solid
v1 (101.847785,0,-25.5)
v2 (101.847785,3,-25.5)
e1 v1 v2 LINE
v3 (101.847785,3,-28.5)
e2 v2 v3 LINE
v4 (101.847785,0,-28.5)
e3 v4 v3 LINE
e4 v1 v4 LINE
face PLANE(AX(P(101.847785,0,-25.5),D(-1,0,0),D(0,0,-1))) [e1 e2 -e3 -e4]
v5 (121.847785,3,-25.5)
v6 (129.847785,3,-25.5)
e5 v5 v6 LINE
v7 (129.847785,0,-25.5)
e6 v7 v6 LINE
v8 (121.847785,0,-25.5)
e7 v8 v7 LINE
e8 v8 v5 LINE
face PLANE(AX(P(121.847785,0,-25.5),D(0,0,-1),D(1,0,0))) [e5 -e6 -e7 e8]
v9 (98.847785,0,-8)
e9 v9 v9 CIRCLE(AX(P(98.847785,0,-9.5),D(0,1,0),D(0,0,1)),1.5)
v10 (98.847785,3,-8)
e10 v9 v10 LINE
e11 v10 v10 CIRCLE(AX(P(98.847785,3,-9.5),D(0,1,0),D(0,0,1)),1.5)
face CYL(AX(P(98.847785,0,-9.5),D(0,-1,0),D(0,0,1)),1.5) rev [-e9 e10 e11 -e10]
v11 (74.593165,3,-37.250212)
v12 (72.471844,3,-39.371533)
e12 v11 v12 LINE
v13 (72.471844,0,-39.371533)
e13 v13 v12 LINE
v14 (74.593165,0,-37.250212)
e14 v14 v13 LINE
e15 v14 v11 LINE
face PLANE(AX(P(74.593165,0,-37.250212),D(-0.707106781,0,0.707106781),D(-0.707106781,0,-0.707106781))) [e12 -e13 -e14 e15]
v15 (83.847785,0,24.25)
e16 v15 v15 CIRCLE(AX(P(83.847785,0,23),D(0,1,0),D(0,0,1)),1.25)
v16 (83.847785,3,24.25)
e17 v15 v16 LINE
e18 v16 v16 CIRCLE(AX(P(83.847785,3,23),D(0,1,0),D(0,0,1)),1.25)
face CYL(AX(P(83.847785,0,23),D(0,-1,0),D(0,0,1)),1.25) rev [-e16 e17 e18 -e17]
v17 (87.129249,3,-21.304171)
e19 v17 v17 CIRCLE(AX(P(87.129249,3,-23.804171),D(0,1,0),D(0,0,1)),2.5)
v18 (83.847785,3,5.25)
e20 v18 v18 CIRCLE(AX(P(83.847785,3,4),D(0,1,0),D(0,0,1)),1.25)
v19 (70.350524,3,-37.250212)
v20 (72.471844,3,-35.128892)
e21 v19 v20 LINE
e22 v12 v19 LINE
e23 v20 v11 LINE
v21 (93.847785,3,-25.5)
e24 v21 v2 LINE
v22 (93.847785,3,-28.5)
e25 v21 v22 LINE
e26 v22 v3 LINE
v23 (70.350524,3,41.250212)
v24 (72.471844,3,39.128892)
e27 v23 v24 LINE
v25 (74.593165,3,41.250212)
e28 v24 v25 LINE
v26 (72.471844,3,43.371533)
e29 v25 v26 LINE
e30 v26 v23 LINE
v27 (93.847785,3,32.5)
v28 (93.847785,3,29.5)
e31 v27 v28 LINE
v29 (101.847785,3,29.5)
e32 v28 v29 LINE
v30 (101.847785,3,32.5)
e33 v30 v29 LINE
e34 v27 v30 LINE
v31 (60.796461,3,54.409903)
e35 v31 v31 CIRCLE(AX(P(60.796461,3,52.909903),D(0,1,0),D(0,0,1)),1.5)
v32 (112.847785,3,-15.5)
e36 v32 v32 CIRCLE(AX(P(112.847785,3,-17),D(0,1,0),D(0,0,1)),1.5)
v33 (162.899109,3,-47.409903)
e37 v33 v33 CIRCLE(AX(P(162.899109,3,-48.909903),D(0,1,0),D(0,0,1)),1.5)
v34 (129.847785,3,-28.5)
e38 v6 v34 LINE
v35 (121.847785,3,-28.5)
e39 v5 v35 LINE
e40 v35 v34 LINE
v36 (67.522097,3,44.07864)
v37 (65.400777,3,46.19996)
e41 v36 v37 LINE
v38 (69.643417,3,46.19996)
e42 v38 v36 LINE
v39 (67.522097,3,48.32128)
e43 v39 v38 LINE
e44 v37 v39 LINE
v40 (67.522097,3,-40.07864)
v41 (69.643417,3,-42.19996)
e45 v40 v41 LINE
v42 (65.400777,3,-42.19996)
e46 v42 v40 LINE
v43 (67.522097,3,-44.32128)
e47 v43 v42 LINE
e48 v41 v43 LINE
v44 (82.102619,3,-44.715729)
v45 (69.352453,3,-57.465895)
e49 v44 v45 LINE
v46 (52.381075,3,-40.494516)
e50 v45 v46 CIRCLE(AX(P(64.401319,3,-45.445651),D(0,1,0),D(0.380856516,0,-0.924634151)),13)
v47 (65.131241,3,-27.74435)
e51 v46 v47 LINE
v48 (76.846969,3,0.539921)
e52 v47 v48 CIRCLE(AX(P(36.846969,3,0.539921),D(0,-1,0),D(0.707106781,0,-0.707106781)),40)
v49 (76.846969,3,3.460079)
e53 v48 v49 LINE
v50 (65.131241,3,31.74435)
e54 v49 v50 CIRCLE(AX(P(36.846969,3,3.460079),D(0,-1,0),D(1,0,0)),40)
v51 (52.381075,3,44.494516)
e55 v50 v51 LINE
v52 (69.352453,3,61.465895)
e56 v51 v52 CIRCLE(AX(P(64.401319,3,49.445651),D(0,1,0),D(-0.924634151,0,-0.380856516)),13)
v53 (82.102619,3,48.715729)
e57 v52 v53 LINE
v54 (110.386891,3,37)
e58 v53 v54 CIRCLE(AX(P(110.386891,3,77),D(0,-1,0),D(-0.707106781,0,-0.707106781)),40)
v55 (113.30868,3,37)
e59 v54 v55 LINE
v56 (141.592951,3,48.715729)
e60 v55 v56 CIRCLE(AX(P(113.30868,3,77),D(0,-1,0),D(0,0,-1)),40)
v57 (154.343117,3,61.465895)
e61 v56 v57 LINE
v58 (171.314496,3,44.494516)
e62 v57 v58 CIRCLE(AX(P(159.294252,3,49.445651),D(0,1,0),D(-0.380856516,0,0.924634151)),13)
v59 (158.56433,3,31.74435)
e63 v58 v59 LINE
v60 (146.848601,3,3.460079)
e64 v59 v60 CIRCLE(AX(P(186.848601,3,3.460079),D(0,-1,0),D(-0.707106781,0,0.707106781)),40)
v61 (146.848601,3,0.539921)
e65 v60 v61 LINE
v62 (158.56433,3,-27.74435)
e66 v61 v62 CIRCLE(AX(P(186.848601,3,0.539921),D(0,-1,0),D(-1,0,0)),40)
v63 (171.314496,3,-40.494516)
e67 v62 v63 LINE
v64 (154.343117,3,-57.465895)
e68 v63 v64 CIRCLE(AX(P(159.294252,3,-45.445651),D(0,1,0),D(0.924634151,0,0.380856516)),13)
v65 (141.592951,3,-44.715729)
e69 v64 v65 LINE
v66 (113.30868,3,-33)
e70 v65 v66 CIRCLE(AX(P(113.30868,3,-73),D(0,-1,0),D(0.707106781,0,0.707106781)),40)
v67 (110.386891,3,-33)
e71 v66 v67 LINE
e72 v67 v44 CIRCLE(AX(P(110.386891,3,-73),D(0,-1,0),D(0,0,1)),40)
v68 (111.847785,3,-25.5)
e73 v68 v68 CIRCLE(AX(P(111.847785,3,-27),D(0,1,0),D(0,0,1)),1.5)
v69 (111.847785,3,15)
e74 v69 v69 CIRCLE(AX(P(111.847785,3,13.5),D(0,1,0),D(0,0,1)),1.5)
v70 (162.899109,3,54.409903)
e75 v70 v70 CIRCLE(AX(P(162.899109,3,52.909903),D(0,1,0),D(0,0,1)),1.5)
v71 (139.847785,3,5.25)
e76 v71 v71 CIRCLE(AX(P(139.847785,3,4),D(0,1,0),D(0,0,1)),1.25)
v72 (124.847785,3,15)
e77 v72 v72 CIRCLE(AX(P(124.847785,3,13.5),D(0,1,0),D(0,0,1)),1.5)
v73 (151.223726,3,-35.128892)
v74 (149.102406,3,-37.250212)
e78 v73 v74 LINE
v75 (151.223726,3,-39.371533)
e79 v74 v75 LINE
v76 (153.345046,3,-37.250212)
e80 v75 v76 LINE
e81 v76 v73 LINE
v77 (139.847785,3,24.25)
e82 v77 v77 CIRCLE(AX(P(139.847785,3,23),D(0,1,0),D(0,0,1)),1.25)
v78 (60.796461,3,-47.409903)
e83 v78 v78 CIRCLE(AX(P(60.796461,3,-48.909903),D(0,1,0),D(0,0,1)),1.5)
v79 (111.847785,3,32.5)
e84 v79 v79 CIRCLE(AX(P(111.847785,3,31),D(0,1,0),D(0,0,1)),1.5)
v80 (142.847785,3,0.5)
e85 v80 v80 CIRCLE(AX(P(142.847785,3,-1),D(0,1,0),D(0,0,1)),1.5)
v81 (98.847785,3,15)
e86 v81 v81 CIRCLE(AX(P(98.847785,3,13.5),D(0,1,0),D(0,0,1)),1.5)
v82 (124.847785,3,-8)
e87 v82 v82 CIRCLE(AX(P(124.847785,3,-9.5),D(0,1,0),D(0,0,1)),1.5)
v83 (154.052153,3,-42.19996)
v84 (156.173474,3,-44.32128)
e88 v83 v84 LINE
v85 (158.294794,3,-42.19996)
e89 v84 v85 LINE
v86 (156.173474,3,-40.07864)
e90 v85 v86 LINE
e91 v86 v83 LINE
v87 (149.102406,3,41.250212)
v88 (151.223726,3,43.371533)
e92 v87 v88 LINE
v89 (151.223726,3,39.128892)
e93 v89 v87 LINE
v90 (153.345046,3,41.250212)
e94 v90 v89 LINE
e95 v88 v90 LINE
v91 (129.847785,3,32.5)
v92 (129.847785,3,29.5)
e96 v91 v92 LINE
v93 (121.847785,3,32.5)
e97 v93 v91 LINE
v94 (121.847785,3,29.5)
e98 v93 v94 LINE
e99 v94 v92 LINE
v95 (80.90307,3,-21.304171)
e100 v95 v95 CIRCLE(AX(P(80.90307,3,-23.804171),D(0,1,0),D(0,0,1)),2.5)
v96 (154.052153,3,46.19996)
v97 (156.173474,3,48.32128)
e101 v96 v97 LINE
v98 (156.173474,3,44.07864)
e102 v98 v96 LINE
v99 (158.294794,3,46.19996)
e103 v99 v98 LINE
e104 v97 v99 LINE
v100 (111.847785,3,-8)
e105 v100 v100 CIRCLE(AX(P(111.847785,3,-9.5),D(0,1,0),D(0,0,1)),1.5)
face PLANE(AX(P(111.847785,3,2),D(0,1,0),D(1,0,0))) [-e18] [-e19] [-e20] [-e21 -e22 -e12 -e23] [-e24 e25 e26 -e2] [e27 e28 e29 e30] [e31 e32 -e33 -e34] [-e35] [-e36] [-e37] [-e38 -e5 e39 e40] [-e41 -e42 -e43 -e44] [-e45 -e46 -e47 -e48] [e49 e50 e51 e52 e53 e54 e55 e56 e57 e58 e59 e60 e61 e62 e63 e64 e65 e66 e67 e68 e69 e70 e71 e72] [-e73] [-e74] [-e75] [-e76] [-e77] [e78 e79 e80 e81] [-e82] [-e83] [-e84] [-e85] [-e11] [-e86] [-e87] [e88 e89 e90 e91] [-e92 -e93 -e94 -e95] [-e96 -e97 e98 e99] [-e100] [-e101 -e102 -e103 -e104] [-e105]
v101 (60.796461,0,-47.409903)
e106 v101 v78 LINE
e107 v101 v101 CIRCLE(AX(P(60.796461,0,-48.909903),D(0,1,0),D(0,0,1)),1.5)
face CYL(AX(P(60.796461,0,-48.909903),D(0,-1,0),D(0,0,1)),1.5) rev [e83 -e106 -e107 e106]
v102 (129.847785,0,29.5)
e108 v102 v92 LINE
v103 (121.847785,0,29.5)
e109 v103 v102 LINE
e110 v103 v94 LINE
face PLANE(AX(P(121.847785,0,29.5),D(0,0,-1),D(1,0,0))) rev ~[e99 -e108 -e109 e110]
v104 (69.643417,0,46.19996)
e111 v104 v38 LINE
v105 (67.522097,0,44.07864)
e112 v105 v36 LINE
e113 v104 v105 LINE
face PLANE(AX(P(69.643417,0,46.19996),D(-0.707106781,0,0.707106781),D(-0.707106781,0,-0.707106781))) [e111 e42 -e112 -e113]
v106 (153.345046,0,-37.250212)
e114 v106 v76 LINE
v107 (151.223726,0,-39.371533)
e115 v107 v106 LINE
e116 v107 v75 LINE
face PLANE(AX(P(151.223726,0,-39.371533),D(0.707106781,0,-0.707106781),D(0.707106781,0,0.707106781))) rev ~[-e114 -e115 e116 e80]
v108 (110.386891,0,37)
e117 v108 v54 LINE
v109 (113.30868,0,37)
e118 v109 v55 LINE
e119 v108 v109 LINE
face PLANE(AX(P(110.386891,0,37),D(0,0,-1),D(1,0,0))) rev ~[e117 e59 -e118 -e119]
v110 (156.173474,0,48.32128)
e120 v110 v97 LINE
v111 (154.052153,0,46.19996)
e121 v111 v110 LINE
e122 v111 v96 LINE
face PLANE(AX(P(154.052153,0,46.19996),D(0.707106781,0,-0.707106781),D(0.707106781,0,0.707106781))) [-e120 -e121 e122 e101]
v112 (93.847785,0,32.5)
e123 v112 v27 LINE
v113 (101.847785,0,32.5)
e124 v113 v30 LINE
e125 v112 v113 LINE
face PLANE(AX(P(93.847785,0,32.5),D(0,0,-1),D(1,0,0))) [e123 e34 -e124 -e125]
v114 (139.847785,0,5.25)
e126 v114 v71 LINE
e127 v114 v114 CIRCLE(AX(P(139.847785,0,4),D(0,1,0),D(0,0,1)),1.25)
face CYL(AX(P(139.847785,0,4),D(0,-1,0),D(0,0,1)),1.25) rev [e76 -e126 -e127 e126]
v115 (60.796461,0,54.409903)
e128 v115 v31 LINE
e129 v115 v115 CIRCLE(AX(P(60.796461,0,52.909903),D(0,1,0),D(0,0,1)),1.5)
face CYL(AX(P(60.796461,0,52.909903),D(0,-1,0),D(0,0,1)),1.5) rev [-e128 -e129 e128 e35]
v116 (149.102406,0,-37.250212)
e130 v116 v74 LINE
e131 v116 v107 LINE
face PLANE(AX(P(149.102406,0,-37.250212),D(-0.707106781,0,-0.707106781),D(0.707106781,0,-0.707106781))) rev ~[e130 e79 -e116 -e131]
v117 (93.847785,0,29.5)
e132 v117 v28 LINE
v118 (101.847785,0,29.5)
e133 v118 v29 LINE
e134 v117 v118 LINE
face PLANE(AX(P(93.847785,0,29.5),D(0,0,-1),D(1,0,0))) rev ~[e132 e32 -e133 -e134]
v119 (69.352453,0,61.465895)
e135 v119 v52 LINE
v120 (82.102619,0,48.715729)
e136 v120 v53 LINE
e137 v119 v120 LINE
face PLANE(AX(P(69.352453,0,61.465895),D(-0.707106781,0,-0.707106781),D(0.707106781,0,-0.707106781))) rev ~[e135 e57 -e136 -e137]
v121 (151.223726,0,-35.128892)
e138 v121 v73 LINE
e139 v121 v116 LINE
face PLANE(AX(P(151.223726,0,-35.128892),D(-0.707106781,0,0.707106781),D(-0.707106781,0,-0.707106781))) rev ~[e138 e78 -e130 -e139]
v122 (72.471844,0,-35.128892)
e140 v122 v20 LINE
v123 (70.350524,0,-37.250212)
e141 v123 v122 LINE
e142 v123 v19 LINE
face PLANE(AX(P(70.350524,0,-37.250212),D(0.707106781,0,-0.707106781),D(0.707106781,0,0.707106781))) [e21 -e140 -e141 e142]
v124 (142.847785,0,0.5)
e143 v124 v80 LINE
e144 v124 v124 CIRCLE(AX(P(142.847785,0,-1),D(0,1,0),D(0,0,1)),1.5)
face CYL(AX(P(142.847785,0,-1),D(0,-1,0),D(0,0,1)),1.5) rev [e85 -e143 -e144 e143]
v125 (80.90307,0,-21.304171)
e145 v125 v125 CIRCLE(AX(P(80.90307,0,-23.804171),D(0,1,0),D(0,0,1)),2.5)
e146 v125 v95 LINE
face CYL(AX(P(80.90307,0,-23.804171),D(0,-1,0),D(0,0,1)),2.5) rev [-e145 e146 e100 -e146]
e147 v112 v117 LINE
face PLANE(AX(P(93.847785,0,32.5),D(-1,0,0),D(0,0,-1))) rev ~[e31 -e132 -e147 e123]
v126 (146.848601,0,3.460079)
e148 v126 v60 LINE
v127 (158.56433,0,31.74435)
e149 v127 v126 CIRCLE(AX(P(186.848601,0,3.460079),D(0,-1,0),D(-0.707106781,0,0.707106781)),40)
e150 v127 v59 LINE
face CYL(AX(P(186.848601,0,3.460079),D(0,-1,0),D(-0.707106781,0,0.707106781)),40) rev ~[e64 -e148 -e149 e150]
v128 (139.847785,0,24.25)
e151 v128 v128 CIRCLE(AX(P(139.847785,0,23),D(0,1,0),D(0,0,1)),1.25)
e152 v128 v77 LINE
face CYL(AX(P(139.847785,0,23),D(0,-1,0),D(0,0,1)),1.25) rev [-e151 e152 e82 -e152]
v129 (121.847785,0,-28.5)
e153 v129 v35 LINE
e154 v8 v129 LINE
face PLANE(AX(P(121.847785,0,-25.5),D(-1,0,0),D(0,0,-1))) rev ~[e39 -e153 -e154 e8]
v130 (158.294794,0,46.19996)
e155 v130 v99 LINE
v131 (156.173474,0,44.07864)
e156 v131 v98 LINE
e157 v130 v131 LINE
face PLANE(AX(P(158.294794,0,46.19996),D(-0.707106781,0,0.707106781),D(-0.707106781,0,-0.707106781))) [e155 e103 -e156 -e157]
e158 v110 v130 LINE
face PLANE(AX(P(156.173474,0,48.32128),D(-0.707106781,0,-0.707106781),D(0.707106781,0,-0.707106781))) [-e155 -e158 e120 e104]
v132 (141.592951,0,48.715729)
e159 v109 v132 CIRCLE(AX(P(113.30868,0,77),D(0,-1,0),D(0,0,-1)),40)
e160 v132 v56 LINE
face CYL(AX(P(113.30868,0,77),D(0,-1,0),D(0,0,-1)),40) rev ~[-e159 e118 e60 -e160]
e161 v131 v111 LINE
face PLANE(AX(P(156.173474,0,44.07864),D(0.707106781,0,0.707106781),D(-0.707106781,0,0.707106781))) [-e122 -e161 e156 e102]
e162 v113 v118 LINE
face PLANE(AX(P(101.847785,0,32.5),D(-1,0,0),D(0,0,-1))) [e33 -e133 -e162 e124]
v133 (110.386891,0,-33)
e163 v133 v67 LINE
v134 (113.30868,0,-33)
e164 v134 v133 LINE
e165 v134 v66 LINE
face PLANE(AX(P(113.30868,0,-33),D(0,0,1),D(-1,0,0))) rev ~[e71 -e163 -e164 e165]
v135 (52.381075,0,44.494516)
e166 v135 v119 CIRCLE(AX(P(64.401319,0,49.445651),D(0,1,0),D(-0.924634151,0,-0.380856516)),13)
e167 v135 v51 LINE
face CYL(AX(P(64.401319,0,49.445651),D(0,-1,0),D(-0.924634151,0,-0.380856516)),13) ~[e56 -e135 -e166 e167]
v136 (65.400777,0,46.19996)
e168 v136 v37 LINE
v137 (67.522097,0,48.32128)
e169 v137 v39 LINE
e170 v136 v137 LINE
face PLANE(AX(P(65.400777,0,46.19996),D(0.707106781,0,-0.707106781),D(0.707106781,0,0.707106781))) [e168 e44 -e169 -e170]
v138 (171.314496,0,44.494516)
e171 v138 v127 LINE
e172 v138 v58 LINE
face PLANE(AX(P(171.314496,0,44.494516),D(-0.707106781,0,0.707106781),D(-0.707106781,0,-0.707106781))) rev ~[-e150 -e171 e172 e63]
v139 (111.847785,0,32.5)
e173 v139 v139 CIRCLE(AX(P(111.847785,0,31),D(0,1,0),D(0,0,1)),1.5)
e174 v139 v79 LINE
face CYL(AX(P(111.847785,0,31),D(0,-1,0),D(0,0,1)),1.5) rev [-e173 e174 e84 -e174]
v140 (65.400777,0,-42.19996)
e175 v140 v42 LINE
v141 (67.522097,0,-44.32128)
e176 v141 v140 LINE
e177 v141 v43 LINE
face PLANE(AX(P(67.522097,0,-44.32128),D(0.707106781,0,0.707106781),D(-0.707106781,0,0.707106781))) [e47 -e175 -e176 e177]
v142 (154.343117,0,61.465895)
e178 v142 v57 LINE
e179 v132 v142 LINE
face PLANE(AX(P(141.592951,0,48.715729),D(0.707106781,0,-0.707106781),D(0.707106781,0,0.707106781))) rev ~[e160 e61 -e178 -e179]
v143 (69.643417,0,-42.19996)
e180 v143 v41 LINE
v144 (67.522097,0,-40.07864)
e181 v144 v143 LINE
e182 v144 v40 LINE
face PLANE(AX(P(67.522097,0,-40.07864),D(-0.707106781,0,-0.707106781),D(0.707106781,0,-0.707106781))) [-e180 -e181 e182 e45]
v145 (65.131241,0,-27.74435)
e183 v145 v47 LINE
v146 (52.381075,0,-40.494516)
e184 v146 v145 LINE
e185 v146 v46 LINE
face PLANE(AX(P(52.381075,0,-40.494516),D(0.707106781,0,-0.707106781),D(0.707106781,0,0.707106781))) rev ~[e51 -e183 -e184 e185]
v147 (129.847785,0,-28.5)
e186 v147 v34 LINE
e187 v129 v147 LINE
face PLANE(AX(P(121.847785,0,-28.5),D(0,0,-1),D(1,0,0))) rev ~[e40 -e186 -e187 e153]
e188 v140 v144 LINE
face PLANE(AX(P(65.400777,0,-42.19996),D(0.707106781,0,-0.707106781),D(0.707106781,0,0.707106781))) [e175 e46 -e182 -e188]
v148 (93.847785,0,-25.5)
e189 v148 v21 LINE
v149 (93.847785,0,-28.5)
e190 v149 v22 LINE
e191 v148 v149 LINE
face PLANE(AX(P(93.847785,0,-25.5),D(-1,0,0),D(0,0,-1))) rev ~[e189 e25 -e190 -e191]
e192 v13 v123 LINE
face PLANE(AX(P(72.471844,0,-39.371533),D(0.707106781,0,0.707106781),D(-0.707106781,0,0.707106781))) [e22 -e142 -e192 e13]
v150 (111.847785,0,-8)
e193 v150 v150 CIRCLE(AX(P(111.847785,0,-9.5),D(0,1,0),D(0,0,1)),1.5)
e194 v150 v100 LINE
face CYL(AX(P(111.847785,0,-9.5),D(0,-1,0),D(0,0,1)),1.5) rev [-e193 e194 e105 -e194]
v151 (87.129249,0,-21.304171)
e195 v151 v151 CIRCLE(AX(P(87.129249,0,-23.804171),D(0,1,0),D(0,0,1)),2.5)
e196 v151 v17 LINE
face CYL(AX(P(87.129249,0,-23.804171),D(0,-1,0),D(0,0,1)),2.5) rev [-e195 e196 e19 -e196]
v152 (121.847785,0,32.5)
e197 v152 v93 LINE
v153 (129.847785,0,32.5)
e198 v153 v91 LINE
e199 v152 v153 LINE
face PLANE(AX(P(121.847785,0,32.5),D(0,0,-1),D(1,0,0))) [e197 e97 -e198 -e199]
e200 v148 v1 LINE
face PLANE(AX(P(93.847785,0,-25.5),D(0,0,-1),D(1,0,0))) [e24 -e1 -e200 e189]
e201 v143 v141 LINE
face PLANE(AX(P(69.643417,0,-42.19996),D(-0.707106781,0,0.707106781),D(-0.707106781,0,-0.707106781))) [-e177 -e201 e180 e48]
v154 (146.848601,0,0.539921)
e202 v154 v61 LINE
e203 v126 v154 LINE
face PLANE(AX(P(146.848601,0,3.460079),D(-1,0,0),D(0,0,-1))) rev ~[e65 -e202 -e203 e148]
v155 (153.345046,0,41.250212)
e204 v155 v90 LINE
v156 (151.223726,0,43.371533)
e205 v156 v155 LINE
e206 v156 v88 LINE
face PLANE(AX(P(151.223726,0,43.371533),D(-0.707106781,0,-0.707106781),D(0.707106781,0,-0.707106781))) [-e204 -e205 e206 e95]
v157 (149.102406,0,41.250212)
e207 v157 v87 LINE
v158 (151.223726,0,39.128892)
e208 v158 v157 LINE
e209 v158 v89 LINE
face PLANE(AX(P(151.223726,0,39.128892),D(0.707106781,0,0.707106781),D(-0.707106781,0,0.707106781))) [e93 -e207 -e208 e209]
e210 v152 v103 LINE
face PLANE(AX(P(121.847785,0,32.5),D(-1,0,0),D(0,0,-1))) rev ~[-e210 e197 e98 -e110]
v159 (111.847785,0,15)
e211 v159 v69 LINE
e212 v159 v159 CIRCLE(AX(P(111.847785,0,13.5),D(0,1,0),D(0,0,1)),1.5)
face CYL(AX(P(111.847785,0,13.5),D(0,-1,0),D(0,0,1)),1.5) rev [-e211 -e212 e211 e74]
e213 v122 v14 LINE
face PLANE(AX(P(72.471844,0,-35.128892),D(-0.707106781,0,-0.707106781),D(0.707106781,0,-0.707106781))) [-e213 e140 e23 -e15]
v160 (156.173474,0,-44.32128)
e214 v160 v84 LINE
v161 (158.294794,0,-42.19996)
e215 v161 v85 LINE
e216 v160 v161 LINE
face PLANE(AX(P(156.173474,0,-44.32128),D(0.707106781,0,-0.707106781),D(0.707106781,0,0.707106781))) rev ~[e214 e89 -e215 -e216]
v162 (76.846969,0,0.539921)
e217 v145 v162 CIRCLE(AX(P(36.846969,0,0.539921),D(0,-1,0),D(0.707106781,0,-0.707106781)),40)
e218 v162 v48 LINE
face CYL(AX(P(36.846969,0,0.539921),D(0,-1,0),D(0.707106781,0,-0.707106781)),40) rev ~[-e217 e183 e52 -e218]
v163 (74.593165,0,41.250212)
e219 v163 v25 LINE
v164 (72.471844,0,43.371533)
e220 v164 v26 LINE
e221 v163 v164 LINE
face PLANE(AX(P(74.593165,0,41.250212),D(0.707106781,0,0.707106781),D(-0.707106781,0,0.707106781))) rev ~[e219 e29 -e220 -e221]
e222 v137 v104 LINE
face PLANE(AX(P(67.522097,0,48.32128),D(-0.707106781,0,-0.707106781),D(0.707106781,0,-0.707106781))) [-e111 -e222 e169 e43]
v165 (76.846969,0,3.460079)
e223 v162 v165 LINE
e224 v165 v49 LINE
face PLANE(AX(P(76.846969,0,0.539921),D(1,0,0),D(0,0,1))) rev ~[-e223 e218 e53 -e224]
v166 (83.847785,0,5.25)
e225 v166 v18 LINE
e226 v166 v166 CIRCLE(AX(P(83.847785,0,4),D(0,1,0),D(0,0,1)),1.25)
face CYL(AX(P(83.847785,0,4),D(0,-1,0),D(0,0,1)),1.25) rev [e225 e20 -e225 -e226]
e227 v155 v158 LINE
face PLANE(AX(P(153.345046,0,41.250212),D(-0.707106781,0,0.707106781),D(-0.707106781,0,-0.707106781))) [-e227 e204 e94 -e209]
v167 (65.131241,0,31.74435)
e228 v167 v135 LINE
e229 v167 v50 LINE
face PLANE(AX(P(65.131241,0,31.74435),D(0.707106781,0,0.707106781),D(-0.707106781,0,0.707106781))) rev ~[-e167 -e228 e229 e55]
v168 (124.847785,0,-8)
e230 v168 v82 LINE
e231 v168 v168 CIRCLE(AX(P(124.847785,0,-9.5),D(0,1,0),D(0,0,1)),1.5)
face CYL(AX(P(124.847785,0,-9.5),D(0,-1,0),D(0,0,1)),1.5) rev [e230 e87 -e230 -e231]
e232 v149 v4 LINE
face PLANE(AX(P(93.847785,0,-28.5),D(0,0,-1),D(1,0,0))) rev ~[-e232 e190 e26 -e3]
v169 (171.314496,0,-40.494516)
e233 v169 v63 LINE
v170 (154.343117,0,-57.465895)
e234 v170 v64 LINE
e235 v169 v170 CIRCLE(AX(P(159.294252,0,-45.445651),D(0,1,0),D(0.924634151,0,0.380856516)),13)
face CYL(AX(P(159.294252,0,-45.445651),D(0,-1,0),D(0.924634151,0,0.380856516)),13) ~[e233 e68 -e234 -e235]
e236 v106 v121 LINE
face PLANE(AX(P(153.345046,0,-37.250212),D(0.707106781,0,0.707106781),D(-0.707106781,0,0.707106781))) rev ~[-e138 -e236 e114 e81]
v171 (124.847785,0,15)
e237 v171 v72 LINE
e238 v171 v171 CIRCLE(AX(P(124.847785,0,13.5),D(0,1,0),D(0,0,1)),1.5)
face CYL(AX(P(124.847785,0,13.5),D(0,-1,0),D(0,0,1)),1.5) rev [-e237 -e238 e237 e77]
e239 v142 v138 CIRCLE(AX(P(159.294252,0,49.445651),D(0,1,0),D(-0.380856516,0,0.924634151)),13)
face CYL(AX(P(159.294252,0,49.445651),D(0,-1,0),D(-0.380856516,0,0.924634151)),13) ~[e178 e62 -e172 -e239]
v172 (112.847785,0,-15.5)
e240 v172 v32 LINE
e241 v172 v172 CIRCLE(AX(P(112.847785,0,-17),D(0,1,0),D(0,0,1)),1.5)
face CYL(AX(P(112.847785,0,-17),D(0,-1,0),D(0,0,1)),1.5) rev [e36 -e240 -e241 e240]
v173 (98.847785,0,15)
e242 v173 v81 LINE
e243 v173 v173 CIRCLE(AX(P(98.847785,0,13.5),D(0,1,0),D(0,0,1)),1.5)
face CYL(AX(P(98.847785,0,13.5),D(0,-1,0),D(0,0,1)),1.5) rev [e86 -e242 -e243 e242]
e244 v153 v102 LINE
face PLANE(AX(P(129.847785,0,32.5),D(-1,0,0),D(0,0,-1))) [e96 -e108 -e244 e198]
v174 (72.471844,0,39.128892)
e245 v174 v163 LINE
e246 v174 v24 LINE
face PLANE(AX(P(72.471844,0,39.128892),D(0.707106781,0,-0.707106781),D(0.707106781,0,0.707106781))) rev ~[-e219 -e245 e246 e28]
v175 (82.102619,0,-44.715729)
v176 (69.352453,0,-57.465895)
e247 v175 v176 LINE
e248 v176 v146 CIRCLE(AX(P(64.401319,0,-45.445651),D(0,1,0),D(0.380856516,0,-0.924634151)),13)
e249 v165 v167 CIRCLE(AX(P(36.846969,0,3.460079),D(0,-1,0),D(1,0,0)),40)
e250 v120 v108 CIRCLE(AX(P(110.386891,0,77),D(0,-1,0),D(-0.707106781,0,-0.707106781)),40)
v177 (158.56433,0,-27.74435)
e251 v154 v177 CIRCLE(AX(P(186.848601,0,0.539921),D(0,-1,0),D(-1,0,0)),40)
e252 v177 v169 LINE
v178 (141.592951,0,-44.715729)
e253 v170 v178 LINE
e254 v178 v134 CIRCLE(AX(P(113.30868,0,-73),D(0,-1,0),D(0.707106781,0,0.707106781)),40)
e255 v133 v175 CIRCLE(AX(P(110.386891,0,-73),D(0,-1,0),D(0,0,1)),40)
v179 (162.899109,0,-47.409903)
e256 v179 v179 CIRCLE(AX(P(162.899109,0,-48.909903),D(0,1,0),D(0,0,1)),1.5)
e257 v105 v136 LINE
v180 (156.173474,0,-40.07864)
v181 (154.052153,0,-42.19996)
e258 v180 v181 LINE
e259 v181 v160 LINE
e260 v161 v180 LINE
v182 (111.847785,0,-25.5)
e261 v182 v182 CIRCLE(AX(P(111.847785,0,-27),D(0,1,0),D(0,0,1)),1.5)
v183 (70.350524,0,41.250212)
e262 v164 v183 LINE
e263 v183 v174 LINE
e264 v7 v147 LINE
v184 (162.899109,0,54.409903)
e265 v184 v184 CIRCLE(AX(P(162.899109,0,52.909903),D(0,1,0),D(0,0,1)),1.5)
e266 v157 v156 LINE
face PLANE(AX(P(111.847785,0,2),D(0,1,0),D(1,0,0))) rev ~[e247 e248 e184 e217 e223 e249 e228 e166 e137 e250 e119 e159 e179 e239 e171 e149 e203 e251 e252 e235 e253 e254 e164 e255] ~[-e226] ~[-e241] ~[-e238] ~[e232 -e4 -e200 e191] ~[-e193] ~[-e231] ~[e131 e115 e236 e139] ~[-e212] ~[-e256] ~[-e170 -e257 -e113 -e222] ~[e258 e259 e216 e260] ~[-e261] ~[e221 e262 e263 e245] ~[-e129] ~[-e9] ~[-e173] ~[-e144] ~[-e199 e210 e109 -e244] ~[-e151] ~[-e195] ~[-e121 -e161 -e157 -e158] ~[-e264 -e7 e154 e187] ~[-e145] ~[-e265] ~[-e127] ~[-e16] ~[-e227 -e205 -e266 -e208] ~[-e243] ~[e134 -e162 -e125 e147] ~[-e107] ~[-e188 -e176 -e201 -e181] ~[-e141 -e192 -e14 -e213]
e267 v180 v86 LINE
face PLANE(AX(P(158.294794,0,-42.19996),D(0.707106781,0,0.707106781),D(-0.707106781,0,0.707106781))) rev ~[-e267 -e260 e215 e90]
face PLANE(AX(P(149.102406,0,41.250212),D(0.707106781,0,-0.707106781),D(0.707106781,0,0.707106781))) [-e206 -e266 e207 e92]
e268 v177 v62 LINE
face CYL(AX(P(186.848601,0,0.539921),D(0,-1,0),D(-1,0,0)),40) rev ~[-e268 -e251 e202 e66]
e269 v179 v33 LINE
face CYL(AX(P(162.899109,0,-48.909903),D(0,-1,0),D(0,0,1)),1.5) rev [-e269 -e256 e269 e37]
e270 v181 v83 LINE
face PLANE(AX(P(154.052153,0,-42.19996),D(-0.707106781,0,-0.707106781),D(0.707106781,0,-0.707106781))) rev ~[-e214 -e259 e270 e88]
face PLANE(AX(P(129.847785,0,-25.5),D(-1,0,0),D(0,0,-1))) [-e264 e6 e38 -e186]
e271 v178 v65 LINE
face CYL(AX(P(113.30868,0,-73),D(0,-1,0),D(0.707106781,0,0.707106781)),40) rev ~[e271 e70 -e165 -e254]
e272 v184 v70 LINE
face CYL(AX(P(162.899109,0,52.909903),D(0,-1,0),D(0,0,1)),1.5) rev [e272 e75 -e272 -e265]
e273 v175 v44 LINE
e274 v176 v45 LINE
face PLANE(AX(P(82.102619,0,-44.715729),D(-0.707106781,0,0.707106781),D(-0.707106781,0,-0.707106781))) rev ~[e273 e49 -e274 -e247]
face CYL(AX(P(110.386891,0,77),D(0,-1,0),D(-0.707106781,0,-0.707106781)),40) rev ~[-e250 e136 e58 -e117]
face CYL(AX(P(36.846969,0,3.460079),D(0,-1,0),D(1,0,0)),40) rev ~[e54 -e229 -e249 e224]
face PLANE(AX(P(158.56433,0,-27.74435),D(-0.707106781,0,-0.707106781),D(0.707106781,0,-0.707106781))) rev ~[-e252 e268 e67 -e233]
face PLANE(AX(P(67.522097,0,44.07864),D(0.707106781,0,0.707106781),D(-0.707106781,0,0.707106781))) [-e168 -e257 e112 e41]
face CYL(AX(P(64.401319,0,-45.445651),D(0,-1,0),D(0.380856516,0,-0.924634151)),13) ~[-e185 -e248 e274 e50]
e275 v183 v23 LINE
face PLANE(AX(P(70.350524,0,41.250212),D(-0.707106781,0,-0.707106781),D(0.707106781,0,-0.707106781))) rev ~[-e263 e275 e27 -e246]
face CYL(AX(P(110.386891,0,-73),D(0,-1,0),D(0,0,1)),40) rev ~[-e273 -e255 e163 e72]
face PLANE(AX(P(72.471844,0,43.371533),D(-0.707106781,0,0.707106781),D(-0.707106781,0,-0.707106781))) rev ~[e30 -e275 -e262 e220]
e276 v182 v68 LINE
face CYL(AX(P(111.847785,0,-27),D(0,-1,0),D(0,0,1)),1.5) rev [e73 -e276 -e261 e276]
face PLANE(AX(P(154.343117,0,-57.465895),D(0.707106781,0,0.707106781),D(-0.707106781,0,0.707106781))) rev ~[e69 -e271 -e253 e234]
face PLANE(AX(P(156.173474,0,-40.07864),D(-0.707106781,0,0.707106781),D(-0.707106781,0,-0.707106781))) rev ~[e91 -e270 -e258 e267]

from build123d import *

# Parameters (mm, degrees)
ESBO_O1_R                = 1.5
ESBO_O1_R_2              = 1.25
ESBO_O1_R_3              = 2.5
ESBO_O1_W                = 8
ESBO_O1_H                = 3
RESSALTO_EXTRUS_O1_DEPTH = 3


with BuildPart() as part:
    # Esboço1 → Ressalto-extrusão1 (new body)
    with BuildSketch(Plane(origin=(0, 0, 0), x_dir=(1, 0, 0), z_dir=(0, 1, 0))):
        with BuildLine():
            Line((52.381074728, 40.494515949), (65.131240604, 27.744350072))
            ThreePointArc((65.131240604, 27.744350072), (73.802150657, 14.76741612), (76.846969357, -0.539921175))
            Line((76.846969357, -0.539921175), (76.846969357, -3.460078825))
            ThreePointArc((76.846969357, -3.460078825), (73.802150657, -18.76741612), (65.131240604, -31.744350072))
            Line((65.131240604, -31.744350072), (52.381074728, -44.494515949))
            ThreePointArc((52.381074728, -44.494515949), (55.208930541, -58.638038816), (69.352453408, -61.465894629))
            Line((69.352453408, -61.465894629), (82.102619284, -48.715728753))
            ThreePointArc((82.102619284, -48.715728753), (95.079553237, -40.0448187), (110.386890532, -37))
            Line((110.386890532, -37), (113.308680045, -37))
            ThreePointArc((113.308680045, -37), (128.61601734, -40.0448187), (141.592951292, -48.715728753))
            Line((141.592951292, -48.715728753), (154.343117169, -61.465894629))
            ThreePointArc((154.343117169, -61.465894629), (168.486640036, -58.638038816), (171.314495849, -44.494515949))
            Line((171.314495849, -44.494515949), (158.564329973, -31.744350072))
            ThreePointArc((158.564329973, -31.744350072), (149.89341992, -18.76741612), (146.84860122, -3.460078825))
            Line((146.84860122, -3.460078825), (146.84860122, -0.539921175))
            ThreePointArc((146.84860122, -0.539921175), (149.89341992, 14.76741612), (158.564329973, 27.744350072))
            Line((158.564329973, 27.744350072), (171.314495849, 40.494515949))
            ThreePointArc((171.314495849, 40.494515949), (168.486640036, 54.638038816), (154.343117169, 57.465894629))
            Line((154.343117169, 57.465894629), (141.592951292, 44.715728753))
            ThreePointArc((141.592951292, 44.715728753), (128.61601734, 36.0448187), (113.308680045, 33))
            Line((113.308680045, 33), (110.386890532, 33))
            ThreePointArc((110.386890532, 33), (95.079553237, 36.0448187), (82.102619284, 44.715728753))
            Line((82.102619284, 44.715728753), (69.352453408, 57.465894629))
            ThreePointArc((69.352453408, 57.465894629), (55.208930541, 54.638038816), (52.381074728, 40.494515949))
        make_face()
        with Locations(Location((111.847785288, 27, 0), (0, 0, 270))):
            Circle(ESBO_O1_R, mode=Mode.SUBTRACT)
        with Locations(Location((111.847785288, -31, 0), (0, 0, 270))):
            Circle(ESBO_O1_R, mode=Mode.SUBTRACT)
        with Locations(Location((60.796461355, 48.909902577, 0), (0, 0, 270))):
            Circle(ESBO_O1_R, mode=Mode.SUBTRACT)
        with Locations(Location((111.847785288, -13.5, 0), (0, 0, 270))):
            Circle(ESBO_O1_R, mode=Mode.SUBTRACT)
        with Locations(Location((124.847785288, -13.5, 0), (0, 0, 270))):
            Circle(ESBO_O1_R, mode=Mode.SUBTRACT)
        with Locations(Location((98.847785288, -13.5, 0), (0, 0, 270))):
            Circle(ESBO_O1_R, mode=Mode.SUBTRACT)
        with Locations(Location((98.847785288, 9.5, 0), (0, 0, 270))):
            Circle(ESBO_O1_R, mode=Mode.SUBTRACT)
        with Locations(Location((124.847785288, 9.5, 0), (0, 0, 270))):
            Circle(ESBO_O1_R, mode=Mode.SUBTRACT)
        with Locations(Location((111.847785288, 9.5, 0), (0, 0, 270))):
            Circle(ESBO_O1_R, mode=Mode.SUBTRACT)
        with Locations(Location((83.847785288, -4, 0), (0, 0, 270))):
            Circle(ESBO_O1_R_2, mode=Mode.SUBTRACT)
        with Locations(Location((139.847785288, -4, 0), (0, 0, 270))):
            Circle(ESBO_O1_R_2, mode=Mode.SUBTRACT)
        with Locations(Location((60.796461355, -52.909902577, 0), (0, 0, 270))):
            Circle(ESBO_O1_R, mode=Mode.SUBTRACT)
        with Locations(Location((139.847785288, -23, 0), (0, 0, 270))):
            Circle(ESBO_O1_R_2, mode=Mode.SUBTRACT)
        with Locations(Location((83.847785288, -23, 0), (0, 0, 270))):
            Circle(ESBO_O1_R_2, mode=Mode.SUBTRACT)
        with Locations(Location((112.847785288, 17, 0), (0, 0, 270))):
            Circle(ESBO_O1_R, mode=Mode.SUBTRACT)
        with Locations(Location((162.899109221, -52.909902577, 0), (0, 0, 270))):
            Circle(ESBO_O1_R, mode=Mode.SUBTRACT)
        with Locations(Location((162.899109221, 48.909902577, 0), (0, 0, 270))):
            Circle(ESBO_O1_R, mode=Mode.SUBTRACT)
        with Locations(Location((142.847785288, 1, 0), (0, 0, 270))):
            Circle(ESBO_O1_R, mode=Mode.SUBTRACT)
        with Locations(Location((80.903069614, 23.804170545, 0), (0, 0, 270))):
            Circle(ESBO_O1_R_3, mode=Mode.SUBTRACT)
        with Locations(Location((87.129249486, 23.804170545, 0), (0, 0, 270))):
            Circle(ESBO_O1_R_3, mode=Mode.SUBTRACT)
        with Locations((125.847785288, -31)):
            Rectangle(ESBO_O1_W, ESBO_O1_H, mode=Mode.SUBTRACT)
        Polygon((149.102405747, 37.250212448), (151.223726091, 39.371532792), (153.345046434, 37.250212448), (151.223726091, 35.128892104), align=None, mode=Mode.SUBTRACT)
        Polygon((154.052153215, 42.199959916), (156.173473559, 44.32128026), (158.294793903, 42.199959916), (156.173473559, 40.078639573), align=None, mode=Mode.SUBTRACT)
        with Locations((97.847785288, -31)):
            Rectangle(ESBO_O1_W, ESBO_O1_H, mode=Mode.SUBTRACT)
        with Locations((97.847785288, 27)):
            Rectangle(ESBO_O1_W, ESBO_O1_H, mode=Mode.SUBTRACT)
        with Locations((125.847785288, 27)):
            Rectangle(ESBO_O1_W, ESBO_O1_H, mode=Mode.SUBTRACT)
        Polygon((67.522097018, 44.32128026), (65.400776674, 42.199959916), (67.522097018, 40.078639573), (69.643417361, 42.199959916), align=None, mode=Mode.SUBTRACT)
        Polygon((72.471844486, 39.371532792), (70.350524142, 37.250212448), (72.471844486, 35.128892104), (74.593164829, 37.250212448), align=None, mode=Mode.SUBTRACT)
        Polygon((67.522097018, -44.078639573), (65.400776674, -46.199959916), (67.522097018, -48.32128026), (69.643417361, -46.199959916), align=None, mode=Mode.SUBTRACT)
        Polygon((74.593164829, -41.250212448), (72.471844486, -43.371532792), (70.350524142, -41.250212448), (72.471844486, -39.128892104), align=None, mode=Mode.SUBTRACT)
        Polygon((156.173473559, -48.32128026), (158.294793903, -46.199959916), (156.173473559, -44.078639573), (154.052153215, -46.199959916), align=None, mode=Mode.SUBTRACT)
        Polygon((151.223726091, -43.371532792), (153.345046434, -41.250212448), (151.223726091, -39.128892104), (149.102405747, -41.250212448), align=None, mode=Mode.SUBTRACT)
    extrude(amount=RESSALTO_EXTRUS_O1_DEPTH)


solid = part.part
